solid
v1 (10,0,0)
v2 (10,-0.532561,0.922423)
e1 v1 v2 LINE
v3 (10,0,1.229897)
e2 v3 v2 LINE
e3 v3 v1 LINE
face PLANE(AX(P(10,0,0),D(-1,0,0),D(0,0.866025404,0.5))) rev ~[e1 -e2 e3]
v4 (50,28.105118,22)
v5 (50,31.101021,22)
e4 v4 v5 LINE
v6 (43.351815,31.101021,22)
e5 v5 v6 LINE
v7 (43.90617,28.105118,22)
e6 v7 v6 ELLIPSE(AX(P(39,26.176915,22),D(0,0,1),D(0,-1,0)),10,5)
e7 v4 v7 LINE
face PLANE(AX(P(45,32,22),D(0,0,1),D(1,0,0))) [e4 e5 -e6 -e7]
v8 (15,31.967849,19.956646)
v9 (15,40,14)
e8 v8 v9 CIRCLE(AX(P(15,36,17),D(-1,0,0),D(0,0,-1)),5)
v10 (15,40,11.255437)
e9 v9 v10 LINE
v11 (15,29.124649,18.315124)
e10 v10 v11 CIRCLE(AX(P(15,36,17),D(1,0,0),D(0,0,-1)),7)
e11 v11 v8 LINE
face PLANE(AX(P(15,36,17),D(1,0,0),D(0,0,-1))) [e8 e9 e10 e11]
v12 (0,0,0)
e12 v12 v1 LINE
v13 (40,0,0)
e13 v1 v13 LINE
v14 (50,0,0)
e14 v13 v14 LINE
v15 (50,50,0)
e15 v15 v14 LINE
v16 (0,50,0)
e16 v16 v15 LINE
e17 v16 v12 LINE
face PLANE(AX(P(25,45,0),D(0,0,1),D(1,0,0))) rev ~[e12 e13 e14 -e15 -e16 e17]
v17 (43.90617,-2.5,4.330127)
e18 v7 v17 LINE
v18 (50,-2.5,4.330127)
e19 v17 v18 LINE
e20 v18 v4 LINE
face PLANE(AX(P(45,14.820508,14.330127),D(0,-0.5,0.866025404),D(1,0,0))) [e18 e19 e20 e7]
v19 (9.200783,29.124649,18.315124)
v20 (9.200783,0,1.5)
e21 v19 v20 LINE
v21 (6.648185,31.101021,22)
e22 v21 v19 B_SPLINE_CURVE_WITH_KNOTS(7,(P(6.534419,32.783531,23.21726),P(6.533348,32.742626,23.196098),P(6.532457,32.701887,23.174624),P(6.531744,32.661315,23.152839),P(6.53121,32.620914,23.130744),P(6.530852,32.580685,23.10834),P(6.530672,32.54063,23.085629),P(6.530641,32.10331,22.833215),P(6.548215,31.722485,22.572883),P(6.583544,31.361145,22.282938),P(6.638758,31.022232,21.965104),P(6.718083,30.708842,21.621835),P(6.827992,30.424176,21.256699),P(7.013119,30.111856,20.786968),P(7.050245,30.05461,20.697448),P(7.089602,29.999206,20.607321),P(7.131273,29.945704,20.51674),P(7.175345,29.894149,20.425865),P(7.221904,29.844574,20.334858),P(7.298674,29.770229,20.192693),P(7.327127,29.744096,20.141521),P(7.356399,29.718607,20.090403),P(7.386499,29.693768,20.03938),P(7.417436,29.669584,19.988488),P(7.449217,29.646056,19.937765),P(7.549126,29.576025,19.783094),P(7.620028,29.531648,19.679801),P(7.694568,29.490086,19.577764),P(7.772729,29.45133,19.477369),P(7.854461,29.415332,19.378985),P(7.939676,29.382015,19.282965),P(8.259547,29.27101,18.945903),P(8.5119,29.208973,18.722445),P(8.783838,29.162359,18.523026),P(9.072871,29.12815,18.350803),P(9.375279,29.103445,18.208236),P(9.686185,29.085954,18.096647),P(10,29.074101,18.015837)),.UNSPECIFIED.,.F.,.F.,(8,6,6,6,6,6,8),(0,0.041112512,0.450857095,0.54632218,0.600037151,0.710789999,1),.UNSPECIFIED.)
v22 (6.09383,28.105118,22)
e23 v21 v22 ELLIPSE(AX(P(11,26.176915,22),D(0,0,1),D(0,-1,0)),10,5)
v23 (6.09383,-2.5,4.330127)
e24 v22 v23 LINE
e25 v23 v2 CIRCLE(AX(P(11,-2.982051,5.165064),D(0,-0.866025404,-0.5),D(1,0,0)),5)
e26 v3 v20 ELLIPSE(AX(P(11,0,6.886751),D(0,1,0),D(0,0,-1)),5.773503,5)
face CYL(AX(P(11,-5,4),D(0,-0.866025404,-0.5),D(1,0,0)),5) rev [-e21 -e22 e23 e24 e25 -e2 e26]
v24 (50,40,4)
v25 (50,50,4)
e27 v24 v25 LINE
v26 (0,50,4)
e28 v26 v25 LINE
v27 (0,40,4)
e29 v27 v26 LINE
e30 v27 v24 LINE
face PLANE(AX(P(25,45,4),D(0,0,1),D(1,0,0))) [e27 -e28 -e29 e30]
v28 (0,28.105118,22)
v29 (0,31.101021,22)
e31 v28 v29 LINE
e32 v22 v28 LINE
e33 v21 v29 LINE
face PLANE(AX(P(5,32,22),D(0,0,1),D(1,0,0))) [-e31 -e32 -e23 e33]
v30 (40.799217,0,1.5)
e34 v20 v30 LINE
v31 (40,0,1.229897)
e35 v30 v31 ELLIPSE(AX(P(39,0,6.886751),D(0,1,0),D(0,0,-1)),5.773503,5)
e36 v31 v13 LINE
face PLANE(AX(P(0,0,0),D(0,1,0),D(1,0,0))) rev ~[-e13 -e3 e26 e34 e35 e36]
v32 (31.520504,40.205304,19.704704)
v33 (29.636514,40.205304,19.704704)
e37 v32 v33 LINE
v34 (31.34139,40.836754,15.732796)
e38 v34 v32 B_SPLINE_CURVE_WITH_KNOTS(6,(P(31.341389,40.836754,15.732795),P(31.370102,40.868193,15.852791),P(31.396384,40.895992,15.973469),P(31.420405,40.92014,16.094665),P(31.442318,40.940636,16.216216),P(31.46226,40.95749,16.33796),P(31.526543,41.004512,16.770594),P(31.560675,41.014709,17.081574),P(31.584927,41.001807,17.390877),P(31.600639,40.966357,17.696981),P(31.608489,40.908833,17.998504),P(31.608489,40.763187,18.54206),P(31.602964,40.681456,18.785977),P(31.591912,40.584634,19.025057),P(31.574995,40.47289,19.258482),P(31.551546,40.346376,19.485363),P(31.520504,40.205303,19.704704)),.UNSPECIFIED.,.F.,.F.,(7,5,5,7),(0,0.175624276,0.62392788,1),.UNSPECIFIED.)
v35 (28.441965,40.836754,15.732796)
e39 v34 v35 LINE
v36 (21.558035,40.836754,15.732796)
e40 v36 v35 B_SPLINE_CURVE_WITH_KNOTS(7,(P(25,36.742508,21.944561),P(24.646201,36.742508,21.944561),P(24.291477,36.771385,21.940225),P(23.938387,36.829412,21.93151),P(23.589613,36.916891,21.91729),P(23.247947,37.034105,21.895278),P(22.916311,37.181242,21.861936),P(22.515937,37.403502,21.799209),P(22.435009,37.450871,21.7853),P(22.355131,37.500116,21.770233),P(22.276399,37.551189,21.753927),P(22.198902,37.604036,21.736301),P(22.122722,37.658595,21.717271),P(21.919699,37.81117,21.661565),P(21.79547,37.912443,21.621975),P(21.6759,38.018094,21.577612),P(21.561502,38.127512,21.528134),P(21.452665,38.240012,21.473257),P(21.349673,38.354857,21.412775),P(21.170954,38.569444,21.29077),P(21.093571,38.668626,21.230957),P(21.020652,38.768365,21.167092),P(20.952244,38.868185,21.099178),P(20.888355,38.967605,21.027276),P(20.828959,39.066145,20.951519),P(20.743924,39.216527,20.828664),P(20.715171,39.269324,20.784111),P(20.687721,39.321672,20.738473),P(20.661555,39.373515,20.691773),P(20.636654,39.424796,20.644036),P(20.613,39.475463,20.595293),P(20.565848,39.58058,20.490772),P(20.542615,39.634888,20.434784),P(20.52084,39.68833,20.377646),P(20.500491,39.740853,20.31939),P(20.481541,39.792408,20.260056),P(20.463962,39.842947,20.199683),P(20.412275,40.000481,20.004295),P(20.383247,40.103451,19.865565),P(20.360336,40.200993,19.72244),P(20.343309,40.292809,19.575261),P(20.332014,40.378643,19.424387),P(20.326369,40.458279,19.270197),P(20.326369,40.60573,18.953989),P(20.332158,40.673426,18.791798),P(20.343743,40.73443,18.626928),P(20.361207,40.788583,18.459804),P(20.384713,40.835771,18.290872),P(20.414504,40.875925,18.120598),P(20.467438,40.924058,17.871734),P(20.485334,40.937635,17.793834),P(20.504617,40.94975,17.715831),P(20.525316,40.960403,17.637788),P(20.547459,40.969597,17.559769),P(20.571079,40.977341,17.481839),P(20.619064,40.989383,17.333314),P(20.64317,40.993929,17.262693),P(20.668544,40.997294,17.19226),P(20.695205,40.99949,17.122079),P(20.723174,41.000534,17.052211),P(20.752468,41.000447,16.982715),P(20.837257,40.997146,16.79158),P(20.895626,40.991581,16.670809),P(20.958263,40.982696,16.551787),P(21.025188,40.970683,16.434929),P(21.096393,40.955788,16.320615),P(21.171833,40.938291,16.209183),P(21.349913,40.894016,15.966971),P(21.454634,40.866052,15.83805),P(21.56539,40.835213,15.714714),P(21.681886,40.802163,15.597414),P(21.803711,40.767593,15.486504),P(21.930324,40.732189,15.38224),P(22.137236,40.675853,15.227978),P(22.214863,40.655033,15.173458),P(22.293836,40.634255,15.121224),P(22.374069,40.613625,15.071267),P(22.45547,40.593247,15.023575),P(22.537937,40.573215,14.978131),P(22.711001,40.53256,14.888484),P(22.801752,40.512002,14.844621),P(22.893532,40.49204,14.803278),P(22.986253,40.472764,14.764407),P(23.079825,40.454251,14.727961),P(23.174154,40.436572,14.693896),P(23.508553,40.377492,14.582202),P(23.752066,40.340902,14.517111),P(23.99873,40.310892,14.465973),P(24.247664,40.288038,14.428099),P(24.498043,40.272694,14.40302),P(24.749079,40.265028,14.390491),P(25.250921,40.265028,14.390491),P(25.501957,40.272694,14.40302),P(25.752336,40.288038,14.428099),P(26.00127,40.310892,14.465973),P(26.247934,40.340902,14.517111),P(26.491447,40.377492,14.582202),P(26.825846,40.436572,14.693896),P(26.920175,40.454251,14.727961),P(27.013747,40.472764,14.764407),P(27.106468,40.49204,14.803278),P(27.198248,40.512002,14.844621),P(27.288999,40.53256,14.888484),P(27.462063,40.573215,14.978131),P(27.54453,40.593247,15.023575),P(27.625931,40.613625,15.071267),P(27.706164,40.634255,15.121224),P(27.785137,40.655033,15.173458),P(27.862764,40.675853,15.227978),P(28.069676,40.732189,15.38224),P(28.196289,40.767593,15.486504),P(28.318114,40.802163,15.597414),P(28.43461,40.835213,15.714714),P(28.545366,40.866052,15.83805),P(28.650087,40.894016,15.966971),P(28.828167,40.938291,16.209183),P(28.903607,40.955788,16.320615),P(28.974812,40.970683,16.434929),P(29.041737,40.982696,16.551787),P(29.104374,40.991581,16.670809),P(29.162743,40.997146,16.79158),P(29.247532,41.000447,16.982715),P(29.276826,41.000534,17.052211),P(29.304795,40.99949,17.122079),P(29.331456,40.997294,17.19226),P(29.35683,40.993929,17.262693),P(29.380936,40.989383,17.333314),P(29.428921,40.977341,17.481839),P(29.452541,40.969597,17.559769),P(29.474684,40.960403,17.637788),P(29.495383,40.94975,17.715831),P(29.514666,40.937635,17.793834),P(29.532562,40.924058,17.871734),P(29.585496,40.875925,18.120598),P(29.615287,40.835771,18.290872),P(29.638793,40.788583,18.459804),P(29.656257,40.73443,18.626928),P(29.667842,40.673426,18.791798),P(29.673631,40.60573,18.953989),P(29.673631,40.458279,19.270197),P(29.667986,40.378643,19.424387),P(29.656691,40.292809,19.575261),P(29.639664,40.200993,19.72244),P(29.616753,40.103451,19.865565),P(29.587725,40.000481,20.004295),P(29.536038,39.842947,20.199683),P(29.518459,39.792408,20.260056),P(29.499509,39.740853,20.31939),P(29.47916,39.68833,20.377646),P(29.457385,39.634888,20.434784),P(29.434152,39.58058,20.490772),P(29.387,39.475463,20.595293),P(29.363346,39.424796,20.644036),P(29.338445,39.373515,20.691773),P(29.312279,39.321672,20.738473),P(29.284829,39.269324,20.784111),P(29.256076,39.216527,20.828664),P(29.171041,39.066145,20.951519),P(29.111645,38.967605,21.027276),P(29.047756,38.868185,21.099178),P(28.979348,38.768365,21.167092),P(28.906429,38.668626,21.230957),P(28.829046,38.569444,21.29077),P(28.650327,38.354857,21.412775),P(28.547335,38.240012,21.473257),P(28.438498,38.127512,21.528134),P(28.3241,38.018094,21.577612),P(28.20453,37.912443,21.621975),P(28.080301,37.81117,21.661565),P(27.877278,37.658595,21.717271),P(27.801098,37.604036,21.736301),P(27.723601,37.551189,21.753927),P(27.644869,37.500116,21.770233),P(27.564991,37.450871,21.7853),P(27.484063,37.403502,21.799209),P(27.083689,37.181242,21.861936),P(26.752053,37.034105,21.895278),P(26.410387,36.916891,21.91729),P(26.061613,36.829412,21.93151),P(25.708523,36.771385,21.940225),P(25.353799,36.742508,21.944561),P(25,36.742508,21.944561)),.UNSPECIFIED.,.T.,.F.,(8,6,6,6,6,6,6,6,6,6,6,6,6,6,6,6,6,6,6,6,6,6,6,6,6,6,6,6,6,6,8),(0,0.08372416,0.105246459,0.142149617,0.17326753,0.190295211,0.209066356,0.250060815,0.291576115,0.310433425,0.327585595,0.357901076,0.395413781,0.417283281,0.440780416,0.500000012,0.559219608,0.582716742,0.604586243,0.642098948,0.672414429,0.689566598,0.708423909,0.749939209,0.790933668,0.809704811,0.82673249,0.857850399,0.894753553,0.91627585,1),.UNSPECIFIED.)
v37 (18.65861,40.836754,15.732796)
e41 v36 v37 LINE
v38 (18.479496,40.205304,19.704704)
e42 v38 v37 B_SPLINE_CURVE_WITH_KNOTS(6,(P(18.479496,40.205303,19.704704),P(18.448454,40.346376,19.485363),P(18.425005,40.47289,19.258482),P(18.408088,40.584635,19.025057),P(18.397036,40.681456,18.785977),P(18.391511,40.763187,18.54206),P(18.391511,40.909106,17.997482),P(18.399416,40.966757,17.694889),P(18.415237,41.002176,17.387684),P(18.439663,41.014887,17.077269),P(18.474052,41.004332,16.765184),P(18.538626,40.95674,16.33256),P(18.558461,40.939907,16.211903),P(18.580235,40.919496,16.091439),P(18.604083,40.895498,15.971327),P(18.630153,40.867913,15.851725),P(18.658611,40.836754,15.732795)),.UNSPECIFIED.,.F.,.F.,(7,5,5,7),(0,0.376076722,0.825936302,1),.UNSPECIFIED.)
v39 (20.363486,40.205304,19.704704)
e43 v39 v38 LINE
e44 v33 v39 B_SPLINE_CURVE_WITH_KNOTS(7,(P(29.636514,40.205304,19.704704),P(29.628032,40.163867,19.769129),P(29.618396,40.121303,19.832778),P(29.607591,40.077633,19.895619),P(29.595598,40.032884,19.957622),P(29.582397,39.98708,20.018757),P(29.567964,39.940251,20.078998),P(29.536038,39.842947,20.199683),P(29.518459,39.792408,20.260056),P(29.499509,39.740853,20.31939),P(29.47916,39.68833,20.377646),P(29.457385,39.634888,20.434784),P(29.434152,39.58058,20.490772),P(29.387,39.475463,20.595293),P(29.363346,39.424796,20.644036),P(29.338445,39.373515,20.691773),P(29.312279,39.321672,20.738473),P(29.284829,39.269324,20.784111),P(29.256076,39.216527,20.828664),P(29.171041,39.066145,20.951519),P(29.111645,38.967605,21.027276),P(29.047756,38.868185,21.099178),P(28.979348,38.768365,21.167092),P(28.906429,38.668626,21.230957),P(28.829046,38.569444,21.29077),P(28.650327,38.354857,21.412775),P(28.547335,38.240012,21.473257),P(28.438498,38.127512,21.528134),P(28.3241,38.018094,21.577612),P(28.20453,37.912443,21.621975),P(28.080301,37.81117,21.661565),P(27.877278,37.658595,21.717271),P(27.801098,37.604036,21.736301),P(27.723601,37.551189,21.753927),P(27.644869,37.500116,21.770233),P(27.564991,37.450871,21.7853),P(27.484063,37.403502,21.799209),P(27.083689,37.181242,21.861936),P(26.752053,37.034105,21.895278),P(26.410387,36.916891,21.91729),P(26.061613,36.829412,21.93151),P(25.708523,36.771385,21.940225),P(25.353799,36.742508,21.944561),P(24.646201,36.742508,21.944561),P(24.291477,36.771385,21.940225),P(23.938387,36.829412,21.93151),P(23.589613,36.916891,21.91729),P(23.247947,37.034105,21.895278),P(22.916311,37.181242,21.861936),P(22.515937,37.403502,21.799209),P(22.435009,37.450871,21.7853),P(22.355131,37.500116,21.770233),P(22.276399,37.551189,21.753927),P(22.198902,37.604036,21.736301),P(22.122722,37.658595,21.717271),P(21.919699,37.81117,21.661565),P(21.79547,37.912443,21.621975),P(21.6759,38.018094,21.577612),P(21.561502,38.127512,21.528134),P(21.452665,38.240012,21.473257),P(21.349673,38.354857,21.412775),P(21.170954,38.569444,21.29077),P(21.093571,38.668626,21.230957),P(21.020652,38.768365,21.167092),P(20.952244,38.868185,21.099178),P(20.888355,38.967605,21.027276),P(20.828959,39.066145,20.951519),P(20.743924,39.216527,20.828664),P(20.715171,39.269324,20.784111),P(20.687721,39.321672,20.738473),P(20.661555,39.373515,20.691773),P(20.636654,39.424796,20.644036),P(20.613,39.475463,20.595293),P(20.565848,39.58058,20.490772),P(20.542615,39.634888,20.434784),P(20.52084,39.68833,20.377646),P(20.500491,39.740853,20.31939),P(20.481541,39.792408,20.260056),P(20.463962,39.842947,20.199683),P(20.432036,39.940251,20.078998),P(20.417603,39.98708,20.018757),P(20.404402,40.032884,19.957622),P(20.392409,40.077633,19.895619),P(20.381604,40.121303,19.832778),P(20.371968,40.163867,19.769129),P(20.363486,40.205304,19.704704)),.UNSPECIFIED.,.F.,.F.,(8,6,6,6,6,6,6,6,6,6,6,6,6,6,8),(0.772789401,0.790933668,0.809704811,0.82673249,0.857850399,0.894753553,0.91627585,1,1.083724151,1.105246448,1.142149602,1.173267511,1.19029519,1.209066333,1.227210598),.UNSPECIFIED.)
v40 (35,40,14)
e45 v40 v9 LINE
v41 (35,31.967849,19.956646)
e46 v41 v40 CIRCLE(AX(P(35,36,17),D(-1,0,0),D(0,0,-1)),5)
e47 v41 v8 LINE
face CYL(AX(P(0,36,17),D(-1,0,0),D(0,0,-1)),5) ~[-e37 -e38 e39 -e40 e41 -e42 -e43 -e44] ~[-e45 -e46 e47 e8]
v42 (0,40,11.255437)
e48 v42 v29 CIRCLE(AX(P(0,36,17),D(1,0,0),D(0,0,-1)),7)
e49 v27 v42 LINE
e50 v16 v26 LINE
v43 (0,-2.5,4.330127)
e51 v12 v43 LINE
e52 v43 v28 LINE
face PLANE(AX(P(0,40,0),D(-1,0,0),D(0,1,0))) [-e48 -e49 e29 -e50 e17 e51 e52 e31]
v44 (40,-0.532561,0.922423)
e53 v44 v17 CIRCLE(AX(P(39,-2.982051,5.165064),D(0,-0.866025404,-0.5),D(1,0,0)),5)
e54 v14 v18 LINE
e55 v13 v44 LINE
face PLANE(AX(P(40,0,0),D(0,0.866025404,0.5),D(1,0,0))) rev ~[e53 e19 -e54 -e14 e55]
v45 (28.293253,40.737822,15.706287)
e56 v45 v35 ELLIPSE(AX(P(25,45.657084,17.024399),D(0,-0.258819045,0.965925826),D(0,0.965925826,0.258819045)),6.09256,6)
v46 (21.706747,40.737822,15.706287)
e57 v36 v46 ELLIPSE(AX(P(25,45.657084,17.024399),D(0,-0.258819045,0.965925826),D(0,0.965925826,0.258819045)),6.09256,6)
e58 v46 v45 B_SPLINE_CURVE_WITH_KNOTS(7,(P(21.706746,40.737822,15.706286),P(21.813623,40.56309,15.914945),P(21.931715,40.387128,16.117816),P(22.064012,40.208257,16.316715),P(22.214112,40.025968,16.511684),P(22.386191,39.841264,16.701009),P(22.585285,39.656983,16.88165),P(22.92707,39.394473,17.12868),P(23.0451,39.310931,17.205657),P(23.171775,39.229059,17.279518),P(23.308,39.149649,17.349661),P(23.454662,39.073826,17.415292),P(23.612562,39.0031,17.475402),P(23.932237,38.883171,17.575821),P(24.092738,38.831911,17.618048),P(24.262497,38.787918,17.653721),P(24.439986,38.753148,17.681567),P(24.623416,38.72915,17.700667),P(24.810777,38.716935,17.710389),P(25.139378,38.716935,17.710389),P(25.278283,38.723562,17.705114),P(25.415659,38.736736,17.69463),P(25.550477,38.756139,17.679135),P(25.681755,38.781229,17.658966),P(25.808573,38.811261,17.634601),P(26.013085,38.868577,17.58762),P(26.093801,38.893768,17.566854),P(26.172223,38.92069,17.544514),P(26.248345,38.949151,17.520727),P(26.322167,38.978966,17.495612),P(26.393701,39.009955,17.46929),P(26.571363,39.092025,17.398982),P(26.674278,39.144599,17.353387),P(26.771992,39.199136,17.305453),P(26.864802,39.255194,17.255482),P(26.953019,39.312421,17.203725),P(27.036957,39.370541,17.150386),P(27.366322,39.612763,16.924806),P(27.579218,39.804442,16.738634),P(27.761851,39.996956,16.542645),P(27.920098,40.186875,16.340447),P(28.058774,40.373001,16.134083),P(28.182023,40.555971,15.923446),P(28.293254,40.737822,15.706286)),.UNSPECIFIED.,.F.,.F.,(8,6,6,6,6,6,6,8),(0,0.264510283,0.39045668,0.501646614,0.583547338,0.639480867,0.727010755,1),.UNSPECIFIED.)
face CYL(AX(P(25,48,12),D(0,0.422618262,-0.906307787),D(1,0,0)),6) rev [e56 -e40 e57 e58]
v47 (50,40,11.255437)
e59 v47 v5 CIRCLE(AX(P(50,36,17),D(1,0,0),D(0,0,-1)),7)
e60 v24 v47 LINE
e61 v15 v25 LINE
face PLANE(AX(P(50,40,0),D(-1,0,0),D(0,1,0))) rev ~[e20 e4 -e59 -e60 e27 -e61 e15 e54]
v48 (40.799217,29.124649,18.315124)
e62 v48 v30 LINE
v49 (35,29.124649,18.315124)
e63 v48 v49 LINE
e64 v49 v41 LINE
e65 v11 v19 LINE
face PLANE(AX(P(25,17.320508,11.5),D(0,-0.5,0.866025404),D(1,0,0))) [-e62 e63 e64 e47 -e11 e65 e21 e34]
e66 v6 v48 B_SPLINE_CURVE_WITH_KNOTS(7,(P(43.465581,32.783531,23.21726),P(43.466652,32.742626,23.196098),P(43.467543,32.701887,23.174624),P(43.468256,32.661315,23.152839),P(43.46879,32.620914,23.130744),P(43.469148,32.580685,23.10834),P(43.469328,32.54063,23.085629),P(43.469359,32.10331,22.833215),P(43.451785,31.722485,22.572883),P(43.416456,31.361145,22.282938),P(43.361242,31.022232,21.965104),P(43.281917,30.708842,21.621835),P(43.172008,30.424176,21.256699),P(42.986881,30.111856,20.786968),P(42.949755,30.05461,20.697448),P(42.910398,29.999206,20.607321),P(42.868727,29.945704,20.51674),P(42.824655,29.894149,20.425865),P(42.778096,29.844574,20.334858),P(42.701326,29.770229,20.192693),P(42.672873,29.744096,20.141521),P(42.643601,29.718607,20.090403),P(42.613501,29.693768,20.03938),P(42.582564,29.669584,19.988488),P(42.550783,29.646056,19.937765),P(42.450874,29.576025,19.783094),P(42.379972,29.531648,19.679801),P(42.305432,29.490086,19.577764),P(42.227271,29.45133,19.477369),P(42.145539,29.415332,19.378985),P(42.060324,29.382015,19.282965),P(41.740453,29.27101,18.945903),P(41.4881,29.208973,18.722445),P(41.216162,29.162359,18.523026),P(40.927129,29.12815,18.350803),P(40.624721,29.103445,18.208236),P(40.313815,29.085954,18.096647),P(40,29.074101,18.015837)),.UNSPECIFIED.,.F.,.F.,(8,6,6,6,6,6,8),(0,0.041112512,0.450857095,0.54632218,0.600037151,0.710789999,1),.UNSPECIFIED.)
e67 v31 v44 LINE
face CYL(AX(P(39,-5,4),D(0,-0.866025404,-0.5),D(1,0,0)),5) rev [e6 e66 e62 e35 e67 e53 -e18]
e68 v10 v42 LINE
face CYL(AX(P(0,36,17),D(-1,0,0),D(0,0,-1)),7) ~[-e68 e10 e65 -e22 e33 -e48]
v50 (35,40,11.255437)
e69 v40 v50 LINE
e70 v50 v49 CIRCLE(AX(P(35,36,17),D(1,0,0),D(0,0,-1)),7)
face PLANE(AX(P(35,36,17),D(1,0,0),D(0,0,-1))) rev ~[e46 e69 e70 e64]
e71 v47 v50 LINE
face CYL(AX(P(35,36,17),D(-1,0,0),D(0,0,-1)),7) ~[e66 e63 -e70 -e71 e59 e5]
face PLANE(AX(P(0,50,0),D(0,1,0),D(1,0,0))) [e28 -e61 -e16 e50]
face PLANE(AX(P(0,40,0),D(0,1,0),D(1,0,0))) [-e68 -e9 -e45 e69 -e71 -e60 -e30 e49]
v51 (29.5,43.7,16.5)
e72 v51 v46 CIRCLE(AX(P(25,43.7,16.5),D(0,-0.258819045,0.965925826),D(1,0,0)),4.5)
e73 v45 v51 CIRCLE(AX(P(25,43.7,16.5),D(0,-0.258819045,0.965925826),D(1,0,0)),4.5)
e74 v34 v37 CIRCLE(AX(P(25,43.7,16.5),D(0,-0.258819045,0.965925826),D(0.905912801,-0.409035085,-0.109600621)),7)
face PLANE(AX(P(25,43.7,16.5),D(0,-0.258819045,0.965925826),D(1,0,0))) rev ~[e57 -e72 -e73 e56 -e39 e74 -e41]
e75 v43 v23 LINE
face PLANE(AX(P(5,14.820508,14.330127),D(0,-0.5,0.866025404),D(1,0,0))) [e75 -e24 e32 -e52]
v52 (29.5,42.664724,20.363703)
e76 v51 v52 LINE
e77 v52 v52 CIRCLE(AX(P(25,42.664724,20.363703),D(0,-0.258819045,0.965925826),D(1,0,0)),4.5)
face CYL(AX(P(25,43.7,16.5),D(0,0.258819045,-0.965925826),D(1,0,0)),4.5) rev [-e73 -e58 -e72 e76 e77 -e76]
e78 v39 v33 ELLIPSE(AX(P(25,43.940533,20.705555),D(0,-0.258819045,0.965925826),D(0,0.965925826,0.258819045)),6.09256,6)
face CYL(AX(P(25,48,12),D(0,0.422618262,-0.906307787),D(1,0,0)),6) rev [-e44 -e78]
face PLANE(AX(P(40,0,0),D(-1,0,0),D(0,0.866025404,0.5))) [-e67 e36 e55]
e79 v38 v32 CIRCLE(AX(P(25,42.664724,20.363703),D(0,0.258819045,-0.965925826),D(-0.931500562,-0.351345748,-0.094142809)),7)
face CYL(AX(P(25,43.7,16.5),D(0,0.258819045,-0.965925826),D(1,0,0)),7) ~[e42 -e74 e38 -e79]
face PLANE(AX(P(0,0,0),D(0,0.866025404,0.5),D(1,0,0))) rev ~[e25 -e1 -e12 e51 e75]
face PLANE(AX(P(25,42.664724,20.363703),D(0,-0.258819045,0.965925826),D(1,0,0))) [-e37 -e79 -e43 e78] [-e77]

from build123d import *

# Parameters (mm, degrees)
CYLINDER004_R               = 7
CYLINDER004_DEPTH           = 15
CYLINDER005_R               = 7
CYLINDER005_DEPTH           = 15
BOX006_W                    = 50
BOX006_H                    = 10
BOX006_DEPTH                = 4
CYLINDER007_R               = 4.5
CYLINDER007_DEPTH           = 4
CYLINDER007_PLACEMENT_ANGLE = 15
CYLINDER006_R               = 7
CYLINDER006_DEPTH           = 4
CYLINDER006_PLACEMENT_ANGLE = 15
BOX005_W                    = 10
BOX005_H                    = 10
BOX005_DEPTH                = 10
CYLINDER002_R               = 5
CYLINDER002_DEPTH           = 45
CYLINDER002_PLACEMENT_ANGLE = 60
BOX003_W                    = 10
BOX003_H                    = 40
BOX003_DEPTH                = 5
BOX003_PLACEMENT_ANGLE      = 30
CYLINDER003_R               = 6
CYLINDER003_DEPTH           = 20
CYLINDER003_PLACEMENT_ANGLE = 25
CYLINDER_R                  = 5
CYLINDER_DEPTH              = 50
BOX001_W                    = 50
BOX001_H                    = 40
BOX001_DEPTH                = 17
BOX001_PLACEMENT_ANGLE      = 30
BOX_W                       = 50
BOX_H                       = 40
BOX_DEPTH                   = 20
BOX004_W                    = 10
BOX004_H                    = 10
BOX004_DEPTH                = 10
CYLINDER001_R               = 5
CYLINDER001_DEPTH           = 45
CYLINDER001_PLACEMENT_ANGLE = 60
BOX002_W                    = 10
BOX002_H                    = 40
BOX002_DEPTH                = 5
BOX002_PLACEMENT_ANGLE      = 30


with BuildPart() as cylinder004:
    # Cylinder004 → Cylinder004 (new body)
    with BuildSketch(Plane(origin=(0, 36, 17), x_dir=(0, 0, -1), z_dir=(1, 0, 0))):
        Circle(CYLINDER004_R)
    extrude(amount=CYLINDER004_DEPTH)


with BuildPart() as cylinder005:
    # Cylinder005 → Cylinder005 (new body)
    with BuildSketch(Plane(origin=(35, 36, 17), x_dir=(0, 0, -1), z_dir=(1, 0, 0))):
        Circle(CYLINDER005_R)
    extrude(amount=CYLINDER005_DEPTH)


with BuildPart() as cube006:
    # Box006 → Box006 (new body)
    with BuildSketch(Plane(origin=(0, 40, 0), x_dir=(1, 0, 0), z_dir=(0, 0, 1))):
        with Locations((25, 5)):
            Rectangle(BOX006_W, BOX006_H)
    extrude(amount=BOX006_DEPTH)


with BuildPart() as cylinder007:
    # Cylinder007 → Cylinder007 (new body)
    with BuildSketch(Plane.XY):
        Circle(CYLINDER007_R)
    extrude(amount=CYLINDER007_DEPTH)


with BuildPart() as cylinder007_1:
    # Cylinder007 placement: moved
    add(cylinder007.part.moved(Location((25, 43.7, 16.5))).rotate(Axis((25, 43.7, 16.5), (1, 0, 0)), CYLINDER007_PLACEMENT_ANGLE))


with BuildPart() as cut006:
    # Cylinder006 → Cylinder006 (new body)
    with BuildSketch(Plane.XY):
        Circle(CYLINDER006_R)
    extrude(amount=CYLINDER006_DEPTH)


with BuildPart() as cut006_1:
    # Cylinder006 placement: moved
    add(cut006.part.moved(Location((25, 43.7, 16.5))).rotate(Axis((25, 43.7, 16.5), (1, 0, 0)), CYLINDER006_PLACEMENT_ANGLE))

    # Cut006: cut Cylinder007
    add(cylinder007_1.part, mode=Mode.SUBTRACT)


with BuildPart() as cube005:
    # Box005 → Box005 (new body)
    with BuildSketch(Plane(origin=(40, 27, 22), x_dir=(1, 0, 0), z_dir=(0, 0, 1))):
        with Locations((5, 5)):
            Rectangle(BOX005_W, BOX005_H)
    extrude(amount=BOX005_DEPTH)


with BuildPart() as cylinder002:
    # Cylinder002 → Cylinder002 (new body)
    with BuildSketch(Plane.XY):
        Circle(CYLINDER002_R)
    extrude(amount=CYLINDER002_DEPTH)


with BuildPart() as cylinder002_1:
    # Cylinder002 placement: moved
    add(cylinder002.part.moved(Location((39, -5, 4))).rotate(Axis((39, -5, 4), (-1, 0, 0)), CYLINDER002_PLACEMENT_ANGLE))


with BuildPart() as cut004:
    # Box003 → Box003 (new body)
    with BuildSketch(Plane.XY):
        with Locations((5, 20)):
            Rectangle(BOX003_W, BOX003_H)
    extrude(amount=BOX003_DEPTH)


with BuildPart() as cut004_1:
    # Box003 placement: moved
    add(cut004.part.moved(Location((40, 0, 0))).rotate(Axis((40, 0, 0), (1, 0, 0)), BOX003_PLACEMENT_ANGLE))

    # Cut002: cut Cylinder002
    add(cylinder002_1.part, mode=Mode.SUBTRACT)

    # Cut004: cut Cube005
    add(cube005.part, mode=Mode.SUBTRACT)


with BuildPart() as cylinder003:
    # Cylinder003 → Cylinder003 (new body)
    with BuildSketch(Plane.XY):
        Circle(CYLINDER003_R)
    extrude(amount=CYLINDER003_DEPTH)


with BuildPart() as cylinder003_1:
    # Cylinder003 placement: moved
    add(cylinder003.part.moved(Location((25, 48, 12))).rotate(Axis((25, 48, 12), (1, 0, 0)), CYLINDER003_PLACEMENT_ANGLE))


with BuildPart() as cylinder:
    # Cylinder → Cylinder (new body)
    with BuildSketch(Plane(origin=(0, 36, 17), x_dir=(0, 0, -1), z_dir=(1, 0, 0))):
        Circle(CYLINDER_R)
    extrude(amount=CYLINDER_DEPTH)


with BuildPart() as cube001:
    # Box001 → Box001 (new body)
    with BuildSketch(Plane.XY):
        with Locations((25, 20)):
            Rectangle(BOX001_W, BOX001_H)
    extrude(amount=BOX001_DEPTH)


with BuildPart() as cube001_1:
    # Box001 placement: moved
    add(cube001.part.moved(Location((0, 0, 1.5))).rotate(Axis((0, 0, 1.5), (1, 0, 0)), BOX001_PLACEMENT_ANGLE))


with BuildPart() as cut005:
    # Box → Box (new body)
    with BuildSketch(Plane.XY):
        with Locations((25, 20)):
            Rectangle(BOX_W, BOX_H)
    extrude(amount=BOX_DEPTH)

    # Cut: cut Cube001
    add(cube001_1.part, mode=Mode.SUBTRACT)

    # Fusion: union Cylinder
    add(cylinder.part)

    # Cut005: cut Cylinder003
    add(cylinder003_1.part, mode=Mode.SUBTRACT)


with BuildPart() as cube004:
    # Box004 → Box004 (new body)
    with BuildSketch(Plane(origin=(0, 27, 22), x_dir=(1, 0, 0), z_dir=(0, 0, 1))):
        with Locations((5, 5)):
            Rectangle(BOX004_W, BOX004_H)
    extrude(amount=BOX004_DEPTH)


with BuildPart() as cylinder001:
    # Cylinder001 → Cylinder001 (new body)
    with BuildSketch(Plane.XY):
        Circle(CYLINDER001_R)
    extrude(amount=CYLINDER001_DEPTH)


with BuildPart() as cylinder001_1:
    # Cylinder001 placement: moved
    add(cylinder001.part.moved(Location((11, -5, 4))).rotate(Axis((11, -5, 4), (-1, 0, 0)), CYLINDER001_PLACEMENT_ANGLE))


with BuildPart() as fusion002:
    # Box002 → Box002 (new body)
    with BuildSketch(Plane.XY):
        with Locations((5, 20)):
            Rectangle(BOX002_W, BOX002_H)
    extrude(amount=BOX002_DEPTH)


with BuildPart() as fusion002_1:
    # Box002 placement: moved
    add(fusion002.part.rotate(Axis((0, 0, 0), (1, 0, 0)), BOX002_PLACEMENT_ANGLE))

    # Cut001: cut Cylinder001
    add(cylinder001_1.part, mode=Mode.SUBTRACT)

    # Cut003: cut Cube004
    add(cube004.part, mode=Mode.SUBTRACT)

    # Fusion001: union Cut004, Cut005
    add(cut004_1.part)
    add(cut005.part)

    # Fusion002: union Cylinder004, Cylinder005, Cube006, Cut006
    add(cylinder004.part)
    add(cylinder005.part)
    add(cube006.part)
    add(cut006_1.part)


solid = fusion002_1.part
